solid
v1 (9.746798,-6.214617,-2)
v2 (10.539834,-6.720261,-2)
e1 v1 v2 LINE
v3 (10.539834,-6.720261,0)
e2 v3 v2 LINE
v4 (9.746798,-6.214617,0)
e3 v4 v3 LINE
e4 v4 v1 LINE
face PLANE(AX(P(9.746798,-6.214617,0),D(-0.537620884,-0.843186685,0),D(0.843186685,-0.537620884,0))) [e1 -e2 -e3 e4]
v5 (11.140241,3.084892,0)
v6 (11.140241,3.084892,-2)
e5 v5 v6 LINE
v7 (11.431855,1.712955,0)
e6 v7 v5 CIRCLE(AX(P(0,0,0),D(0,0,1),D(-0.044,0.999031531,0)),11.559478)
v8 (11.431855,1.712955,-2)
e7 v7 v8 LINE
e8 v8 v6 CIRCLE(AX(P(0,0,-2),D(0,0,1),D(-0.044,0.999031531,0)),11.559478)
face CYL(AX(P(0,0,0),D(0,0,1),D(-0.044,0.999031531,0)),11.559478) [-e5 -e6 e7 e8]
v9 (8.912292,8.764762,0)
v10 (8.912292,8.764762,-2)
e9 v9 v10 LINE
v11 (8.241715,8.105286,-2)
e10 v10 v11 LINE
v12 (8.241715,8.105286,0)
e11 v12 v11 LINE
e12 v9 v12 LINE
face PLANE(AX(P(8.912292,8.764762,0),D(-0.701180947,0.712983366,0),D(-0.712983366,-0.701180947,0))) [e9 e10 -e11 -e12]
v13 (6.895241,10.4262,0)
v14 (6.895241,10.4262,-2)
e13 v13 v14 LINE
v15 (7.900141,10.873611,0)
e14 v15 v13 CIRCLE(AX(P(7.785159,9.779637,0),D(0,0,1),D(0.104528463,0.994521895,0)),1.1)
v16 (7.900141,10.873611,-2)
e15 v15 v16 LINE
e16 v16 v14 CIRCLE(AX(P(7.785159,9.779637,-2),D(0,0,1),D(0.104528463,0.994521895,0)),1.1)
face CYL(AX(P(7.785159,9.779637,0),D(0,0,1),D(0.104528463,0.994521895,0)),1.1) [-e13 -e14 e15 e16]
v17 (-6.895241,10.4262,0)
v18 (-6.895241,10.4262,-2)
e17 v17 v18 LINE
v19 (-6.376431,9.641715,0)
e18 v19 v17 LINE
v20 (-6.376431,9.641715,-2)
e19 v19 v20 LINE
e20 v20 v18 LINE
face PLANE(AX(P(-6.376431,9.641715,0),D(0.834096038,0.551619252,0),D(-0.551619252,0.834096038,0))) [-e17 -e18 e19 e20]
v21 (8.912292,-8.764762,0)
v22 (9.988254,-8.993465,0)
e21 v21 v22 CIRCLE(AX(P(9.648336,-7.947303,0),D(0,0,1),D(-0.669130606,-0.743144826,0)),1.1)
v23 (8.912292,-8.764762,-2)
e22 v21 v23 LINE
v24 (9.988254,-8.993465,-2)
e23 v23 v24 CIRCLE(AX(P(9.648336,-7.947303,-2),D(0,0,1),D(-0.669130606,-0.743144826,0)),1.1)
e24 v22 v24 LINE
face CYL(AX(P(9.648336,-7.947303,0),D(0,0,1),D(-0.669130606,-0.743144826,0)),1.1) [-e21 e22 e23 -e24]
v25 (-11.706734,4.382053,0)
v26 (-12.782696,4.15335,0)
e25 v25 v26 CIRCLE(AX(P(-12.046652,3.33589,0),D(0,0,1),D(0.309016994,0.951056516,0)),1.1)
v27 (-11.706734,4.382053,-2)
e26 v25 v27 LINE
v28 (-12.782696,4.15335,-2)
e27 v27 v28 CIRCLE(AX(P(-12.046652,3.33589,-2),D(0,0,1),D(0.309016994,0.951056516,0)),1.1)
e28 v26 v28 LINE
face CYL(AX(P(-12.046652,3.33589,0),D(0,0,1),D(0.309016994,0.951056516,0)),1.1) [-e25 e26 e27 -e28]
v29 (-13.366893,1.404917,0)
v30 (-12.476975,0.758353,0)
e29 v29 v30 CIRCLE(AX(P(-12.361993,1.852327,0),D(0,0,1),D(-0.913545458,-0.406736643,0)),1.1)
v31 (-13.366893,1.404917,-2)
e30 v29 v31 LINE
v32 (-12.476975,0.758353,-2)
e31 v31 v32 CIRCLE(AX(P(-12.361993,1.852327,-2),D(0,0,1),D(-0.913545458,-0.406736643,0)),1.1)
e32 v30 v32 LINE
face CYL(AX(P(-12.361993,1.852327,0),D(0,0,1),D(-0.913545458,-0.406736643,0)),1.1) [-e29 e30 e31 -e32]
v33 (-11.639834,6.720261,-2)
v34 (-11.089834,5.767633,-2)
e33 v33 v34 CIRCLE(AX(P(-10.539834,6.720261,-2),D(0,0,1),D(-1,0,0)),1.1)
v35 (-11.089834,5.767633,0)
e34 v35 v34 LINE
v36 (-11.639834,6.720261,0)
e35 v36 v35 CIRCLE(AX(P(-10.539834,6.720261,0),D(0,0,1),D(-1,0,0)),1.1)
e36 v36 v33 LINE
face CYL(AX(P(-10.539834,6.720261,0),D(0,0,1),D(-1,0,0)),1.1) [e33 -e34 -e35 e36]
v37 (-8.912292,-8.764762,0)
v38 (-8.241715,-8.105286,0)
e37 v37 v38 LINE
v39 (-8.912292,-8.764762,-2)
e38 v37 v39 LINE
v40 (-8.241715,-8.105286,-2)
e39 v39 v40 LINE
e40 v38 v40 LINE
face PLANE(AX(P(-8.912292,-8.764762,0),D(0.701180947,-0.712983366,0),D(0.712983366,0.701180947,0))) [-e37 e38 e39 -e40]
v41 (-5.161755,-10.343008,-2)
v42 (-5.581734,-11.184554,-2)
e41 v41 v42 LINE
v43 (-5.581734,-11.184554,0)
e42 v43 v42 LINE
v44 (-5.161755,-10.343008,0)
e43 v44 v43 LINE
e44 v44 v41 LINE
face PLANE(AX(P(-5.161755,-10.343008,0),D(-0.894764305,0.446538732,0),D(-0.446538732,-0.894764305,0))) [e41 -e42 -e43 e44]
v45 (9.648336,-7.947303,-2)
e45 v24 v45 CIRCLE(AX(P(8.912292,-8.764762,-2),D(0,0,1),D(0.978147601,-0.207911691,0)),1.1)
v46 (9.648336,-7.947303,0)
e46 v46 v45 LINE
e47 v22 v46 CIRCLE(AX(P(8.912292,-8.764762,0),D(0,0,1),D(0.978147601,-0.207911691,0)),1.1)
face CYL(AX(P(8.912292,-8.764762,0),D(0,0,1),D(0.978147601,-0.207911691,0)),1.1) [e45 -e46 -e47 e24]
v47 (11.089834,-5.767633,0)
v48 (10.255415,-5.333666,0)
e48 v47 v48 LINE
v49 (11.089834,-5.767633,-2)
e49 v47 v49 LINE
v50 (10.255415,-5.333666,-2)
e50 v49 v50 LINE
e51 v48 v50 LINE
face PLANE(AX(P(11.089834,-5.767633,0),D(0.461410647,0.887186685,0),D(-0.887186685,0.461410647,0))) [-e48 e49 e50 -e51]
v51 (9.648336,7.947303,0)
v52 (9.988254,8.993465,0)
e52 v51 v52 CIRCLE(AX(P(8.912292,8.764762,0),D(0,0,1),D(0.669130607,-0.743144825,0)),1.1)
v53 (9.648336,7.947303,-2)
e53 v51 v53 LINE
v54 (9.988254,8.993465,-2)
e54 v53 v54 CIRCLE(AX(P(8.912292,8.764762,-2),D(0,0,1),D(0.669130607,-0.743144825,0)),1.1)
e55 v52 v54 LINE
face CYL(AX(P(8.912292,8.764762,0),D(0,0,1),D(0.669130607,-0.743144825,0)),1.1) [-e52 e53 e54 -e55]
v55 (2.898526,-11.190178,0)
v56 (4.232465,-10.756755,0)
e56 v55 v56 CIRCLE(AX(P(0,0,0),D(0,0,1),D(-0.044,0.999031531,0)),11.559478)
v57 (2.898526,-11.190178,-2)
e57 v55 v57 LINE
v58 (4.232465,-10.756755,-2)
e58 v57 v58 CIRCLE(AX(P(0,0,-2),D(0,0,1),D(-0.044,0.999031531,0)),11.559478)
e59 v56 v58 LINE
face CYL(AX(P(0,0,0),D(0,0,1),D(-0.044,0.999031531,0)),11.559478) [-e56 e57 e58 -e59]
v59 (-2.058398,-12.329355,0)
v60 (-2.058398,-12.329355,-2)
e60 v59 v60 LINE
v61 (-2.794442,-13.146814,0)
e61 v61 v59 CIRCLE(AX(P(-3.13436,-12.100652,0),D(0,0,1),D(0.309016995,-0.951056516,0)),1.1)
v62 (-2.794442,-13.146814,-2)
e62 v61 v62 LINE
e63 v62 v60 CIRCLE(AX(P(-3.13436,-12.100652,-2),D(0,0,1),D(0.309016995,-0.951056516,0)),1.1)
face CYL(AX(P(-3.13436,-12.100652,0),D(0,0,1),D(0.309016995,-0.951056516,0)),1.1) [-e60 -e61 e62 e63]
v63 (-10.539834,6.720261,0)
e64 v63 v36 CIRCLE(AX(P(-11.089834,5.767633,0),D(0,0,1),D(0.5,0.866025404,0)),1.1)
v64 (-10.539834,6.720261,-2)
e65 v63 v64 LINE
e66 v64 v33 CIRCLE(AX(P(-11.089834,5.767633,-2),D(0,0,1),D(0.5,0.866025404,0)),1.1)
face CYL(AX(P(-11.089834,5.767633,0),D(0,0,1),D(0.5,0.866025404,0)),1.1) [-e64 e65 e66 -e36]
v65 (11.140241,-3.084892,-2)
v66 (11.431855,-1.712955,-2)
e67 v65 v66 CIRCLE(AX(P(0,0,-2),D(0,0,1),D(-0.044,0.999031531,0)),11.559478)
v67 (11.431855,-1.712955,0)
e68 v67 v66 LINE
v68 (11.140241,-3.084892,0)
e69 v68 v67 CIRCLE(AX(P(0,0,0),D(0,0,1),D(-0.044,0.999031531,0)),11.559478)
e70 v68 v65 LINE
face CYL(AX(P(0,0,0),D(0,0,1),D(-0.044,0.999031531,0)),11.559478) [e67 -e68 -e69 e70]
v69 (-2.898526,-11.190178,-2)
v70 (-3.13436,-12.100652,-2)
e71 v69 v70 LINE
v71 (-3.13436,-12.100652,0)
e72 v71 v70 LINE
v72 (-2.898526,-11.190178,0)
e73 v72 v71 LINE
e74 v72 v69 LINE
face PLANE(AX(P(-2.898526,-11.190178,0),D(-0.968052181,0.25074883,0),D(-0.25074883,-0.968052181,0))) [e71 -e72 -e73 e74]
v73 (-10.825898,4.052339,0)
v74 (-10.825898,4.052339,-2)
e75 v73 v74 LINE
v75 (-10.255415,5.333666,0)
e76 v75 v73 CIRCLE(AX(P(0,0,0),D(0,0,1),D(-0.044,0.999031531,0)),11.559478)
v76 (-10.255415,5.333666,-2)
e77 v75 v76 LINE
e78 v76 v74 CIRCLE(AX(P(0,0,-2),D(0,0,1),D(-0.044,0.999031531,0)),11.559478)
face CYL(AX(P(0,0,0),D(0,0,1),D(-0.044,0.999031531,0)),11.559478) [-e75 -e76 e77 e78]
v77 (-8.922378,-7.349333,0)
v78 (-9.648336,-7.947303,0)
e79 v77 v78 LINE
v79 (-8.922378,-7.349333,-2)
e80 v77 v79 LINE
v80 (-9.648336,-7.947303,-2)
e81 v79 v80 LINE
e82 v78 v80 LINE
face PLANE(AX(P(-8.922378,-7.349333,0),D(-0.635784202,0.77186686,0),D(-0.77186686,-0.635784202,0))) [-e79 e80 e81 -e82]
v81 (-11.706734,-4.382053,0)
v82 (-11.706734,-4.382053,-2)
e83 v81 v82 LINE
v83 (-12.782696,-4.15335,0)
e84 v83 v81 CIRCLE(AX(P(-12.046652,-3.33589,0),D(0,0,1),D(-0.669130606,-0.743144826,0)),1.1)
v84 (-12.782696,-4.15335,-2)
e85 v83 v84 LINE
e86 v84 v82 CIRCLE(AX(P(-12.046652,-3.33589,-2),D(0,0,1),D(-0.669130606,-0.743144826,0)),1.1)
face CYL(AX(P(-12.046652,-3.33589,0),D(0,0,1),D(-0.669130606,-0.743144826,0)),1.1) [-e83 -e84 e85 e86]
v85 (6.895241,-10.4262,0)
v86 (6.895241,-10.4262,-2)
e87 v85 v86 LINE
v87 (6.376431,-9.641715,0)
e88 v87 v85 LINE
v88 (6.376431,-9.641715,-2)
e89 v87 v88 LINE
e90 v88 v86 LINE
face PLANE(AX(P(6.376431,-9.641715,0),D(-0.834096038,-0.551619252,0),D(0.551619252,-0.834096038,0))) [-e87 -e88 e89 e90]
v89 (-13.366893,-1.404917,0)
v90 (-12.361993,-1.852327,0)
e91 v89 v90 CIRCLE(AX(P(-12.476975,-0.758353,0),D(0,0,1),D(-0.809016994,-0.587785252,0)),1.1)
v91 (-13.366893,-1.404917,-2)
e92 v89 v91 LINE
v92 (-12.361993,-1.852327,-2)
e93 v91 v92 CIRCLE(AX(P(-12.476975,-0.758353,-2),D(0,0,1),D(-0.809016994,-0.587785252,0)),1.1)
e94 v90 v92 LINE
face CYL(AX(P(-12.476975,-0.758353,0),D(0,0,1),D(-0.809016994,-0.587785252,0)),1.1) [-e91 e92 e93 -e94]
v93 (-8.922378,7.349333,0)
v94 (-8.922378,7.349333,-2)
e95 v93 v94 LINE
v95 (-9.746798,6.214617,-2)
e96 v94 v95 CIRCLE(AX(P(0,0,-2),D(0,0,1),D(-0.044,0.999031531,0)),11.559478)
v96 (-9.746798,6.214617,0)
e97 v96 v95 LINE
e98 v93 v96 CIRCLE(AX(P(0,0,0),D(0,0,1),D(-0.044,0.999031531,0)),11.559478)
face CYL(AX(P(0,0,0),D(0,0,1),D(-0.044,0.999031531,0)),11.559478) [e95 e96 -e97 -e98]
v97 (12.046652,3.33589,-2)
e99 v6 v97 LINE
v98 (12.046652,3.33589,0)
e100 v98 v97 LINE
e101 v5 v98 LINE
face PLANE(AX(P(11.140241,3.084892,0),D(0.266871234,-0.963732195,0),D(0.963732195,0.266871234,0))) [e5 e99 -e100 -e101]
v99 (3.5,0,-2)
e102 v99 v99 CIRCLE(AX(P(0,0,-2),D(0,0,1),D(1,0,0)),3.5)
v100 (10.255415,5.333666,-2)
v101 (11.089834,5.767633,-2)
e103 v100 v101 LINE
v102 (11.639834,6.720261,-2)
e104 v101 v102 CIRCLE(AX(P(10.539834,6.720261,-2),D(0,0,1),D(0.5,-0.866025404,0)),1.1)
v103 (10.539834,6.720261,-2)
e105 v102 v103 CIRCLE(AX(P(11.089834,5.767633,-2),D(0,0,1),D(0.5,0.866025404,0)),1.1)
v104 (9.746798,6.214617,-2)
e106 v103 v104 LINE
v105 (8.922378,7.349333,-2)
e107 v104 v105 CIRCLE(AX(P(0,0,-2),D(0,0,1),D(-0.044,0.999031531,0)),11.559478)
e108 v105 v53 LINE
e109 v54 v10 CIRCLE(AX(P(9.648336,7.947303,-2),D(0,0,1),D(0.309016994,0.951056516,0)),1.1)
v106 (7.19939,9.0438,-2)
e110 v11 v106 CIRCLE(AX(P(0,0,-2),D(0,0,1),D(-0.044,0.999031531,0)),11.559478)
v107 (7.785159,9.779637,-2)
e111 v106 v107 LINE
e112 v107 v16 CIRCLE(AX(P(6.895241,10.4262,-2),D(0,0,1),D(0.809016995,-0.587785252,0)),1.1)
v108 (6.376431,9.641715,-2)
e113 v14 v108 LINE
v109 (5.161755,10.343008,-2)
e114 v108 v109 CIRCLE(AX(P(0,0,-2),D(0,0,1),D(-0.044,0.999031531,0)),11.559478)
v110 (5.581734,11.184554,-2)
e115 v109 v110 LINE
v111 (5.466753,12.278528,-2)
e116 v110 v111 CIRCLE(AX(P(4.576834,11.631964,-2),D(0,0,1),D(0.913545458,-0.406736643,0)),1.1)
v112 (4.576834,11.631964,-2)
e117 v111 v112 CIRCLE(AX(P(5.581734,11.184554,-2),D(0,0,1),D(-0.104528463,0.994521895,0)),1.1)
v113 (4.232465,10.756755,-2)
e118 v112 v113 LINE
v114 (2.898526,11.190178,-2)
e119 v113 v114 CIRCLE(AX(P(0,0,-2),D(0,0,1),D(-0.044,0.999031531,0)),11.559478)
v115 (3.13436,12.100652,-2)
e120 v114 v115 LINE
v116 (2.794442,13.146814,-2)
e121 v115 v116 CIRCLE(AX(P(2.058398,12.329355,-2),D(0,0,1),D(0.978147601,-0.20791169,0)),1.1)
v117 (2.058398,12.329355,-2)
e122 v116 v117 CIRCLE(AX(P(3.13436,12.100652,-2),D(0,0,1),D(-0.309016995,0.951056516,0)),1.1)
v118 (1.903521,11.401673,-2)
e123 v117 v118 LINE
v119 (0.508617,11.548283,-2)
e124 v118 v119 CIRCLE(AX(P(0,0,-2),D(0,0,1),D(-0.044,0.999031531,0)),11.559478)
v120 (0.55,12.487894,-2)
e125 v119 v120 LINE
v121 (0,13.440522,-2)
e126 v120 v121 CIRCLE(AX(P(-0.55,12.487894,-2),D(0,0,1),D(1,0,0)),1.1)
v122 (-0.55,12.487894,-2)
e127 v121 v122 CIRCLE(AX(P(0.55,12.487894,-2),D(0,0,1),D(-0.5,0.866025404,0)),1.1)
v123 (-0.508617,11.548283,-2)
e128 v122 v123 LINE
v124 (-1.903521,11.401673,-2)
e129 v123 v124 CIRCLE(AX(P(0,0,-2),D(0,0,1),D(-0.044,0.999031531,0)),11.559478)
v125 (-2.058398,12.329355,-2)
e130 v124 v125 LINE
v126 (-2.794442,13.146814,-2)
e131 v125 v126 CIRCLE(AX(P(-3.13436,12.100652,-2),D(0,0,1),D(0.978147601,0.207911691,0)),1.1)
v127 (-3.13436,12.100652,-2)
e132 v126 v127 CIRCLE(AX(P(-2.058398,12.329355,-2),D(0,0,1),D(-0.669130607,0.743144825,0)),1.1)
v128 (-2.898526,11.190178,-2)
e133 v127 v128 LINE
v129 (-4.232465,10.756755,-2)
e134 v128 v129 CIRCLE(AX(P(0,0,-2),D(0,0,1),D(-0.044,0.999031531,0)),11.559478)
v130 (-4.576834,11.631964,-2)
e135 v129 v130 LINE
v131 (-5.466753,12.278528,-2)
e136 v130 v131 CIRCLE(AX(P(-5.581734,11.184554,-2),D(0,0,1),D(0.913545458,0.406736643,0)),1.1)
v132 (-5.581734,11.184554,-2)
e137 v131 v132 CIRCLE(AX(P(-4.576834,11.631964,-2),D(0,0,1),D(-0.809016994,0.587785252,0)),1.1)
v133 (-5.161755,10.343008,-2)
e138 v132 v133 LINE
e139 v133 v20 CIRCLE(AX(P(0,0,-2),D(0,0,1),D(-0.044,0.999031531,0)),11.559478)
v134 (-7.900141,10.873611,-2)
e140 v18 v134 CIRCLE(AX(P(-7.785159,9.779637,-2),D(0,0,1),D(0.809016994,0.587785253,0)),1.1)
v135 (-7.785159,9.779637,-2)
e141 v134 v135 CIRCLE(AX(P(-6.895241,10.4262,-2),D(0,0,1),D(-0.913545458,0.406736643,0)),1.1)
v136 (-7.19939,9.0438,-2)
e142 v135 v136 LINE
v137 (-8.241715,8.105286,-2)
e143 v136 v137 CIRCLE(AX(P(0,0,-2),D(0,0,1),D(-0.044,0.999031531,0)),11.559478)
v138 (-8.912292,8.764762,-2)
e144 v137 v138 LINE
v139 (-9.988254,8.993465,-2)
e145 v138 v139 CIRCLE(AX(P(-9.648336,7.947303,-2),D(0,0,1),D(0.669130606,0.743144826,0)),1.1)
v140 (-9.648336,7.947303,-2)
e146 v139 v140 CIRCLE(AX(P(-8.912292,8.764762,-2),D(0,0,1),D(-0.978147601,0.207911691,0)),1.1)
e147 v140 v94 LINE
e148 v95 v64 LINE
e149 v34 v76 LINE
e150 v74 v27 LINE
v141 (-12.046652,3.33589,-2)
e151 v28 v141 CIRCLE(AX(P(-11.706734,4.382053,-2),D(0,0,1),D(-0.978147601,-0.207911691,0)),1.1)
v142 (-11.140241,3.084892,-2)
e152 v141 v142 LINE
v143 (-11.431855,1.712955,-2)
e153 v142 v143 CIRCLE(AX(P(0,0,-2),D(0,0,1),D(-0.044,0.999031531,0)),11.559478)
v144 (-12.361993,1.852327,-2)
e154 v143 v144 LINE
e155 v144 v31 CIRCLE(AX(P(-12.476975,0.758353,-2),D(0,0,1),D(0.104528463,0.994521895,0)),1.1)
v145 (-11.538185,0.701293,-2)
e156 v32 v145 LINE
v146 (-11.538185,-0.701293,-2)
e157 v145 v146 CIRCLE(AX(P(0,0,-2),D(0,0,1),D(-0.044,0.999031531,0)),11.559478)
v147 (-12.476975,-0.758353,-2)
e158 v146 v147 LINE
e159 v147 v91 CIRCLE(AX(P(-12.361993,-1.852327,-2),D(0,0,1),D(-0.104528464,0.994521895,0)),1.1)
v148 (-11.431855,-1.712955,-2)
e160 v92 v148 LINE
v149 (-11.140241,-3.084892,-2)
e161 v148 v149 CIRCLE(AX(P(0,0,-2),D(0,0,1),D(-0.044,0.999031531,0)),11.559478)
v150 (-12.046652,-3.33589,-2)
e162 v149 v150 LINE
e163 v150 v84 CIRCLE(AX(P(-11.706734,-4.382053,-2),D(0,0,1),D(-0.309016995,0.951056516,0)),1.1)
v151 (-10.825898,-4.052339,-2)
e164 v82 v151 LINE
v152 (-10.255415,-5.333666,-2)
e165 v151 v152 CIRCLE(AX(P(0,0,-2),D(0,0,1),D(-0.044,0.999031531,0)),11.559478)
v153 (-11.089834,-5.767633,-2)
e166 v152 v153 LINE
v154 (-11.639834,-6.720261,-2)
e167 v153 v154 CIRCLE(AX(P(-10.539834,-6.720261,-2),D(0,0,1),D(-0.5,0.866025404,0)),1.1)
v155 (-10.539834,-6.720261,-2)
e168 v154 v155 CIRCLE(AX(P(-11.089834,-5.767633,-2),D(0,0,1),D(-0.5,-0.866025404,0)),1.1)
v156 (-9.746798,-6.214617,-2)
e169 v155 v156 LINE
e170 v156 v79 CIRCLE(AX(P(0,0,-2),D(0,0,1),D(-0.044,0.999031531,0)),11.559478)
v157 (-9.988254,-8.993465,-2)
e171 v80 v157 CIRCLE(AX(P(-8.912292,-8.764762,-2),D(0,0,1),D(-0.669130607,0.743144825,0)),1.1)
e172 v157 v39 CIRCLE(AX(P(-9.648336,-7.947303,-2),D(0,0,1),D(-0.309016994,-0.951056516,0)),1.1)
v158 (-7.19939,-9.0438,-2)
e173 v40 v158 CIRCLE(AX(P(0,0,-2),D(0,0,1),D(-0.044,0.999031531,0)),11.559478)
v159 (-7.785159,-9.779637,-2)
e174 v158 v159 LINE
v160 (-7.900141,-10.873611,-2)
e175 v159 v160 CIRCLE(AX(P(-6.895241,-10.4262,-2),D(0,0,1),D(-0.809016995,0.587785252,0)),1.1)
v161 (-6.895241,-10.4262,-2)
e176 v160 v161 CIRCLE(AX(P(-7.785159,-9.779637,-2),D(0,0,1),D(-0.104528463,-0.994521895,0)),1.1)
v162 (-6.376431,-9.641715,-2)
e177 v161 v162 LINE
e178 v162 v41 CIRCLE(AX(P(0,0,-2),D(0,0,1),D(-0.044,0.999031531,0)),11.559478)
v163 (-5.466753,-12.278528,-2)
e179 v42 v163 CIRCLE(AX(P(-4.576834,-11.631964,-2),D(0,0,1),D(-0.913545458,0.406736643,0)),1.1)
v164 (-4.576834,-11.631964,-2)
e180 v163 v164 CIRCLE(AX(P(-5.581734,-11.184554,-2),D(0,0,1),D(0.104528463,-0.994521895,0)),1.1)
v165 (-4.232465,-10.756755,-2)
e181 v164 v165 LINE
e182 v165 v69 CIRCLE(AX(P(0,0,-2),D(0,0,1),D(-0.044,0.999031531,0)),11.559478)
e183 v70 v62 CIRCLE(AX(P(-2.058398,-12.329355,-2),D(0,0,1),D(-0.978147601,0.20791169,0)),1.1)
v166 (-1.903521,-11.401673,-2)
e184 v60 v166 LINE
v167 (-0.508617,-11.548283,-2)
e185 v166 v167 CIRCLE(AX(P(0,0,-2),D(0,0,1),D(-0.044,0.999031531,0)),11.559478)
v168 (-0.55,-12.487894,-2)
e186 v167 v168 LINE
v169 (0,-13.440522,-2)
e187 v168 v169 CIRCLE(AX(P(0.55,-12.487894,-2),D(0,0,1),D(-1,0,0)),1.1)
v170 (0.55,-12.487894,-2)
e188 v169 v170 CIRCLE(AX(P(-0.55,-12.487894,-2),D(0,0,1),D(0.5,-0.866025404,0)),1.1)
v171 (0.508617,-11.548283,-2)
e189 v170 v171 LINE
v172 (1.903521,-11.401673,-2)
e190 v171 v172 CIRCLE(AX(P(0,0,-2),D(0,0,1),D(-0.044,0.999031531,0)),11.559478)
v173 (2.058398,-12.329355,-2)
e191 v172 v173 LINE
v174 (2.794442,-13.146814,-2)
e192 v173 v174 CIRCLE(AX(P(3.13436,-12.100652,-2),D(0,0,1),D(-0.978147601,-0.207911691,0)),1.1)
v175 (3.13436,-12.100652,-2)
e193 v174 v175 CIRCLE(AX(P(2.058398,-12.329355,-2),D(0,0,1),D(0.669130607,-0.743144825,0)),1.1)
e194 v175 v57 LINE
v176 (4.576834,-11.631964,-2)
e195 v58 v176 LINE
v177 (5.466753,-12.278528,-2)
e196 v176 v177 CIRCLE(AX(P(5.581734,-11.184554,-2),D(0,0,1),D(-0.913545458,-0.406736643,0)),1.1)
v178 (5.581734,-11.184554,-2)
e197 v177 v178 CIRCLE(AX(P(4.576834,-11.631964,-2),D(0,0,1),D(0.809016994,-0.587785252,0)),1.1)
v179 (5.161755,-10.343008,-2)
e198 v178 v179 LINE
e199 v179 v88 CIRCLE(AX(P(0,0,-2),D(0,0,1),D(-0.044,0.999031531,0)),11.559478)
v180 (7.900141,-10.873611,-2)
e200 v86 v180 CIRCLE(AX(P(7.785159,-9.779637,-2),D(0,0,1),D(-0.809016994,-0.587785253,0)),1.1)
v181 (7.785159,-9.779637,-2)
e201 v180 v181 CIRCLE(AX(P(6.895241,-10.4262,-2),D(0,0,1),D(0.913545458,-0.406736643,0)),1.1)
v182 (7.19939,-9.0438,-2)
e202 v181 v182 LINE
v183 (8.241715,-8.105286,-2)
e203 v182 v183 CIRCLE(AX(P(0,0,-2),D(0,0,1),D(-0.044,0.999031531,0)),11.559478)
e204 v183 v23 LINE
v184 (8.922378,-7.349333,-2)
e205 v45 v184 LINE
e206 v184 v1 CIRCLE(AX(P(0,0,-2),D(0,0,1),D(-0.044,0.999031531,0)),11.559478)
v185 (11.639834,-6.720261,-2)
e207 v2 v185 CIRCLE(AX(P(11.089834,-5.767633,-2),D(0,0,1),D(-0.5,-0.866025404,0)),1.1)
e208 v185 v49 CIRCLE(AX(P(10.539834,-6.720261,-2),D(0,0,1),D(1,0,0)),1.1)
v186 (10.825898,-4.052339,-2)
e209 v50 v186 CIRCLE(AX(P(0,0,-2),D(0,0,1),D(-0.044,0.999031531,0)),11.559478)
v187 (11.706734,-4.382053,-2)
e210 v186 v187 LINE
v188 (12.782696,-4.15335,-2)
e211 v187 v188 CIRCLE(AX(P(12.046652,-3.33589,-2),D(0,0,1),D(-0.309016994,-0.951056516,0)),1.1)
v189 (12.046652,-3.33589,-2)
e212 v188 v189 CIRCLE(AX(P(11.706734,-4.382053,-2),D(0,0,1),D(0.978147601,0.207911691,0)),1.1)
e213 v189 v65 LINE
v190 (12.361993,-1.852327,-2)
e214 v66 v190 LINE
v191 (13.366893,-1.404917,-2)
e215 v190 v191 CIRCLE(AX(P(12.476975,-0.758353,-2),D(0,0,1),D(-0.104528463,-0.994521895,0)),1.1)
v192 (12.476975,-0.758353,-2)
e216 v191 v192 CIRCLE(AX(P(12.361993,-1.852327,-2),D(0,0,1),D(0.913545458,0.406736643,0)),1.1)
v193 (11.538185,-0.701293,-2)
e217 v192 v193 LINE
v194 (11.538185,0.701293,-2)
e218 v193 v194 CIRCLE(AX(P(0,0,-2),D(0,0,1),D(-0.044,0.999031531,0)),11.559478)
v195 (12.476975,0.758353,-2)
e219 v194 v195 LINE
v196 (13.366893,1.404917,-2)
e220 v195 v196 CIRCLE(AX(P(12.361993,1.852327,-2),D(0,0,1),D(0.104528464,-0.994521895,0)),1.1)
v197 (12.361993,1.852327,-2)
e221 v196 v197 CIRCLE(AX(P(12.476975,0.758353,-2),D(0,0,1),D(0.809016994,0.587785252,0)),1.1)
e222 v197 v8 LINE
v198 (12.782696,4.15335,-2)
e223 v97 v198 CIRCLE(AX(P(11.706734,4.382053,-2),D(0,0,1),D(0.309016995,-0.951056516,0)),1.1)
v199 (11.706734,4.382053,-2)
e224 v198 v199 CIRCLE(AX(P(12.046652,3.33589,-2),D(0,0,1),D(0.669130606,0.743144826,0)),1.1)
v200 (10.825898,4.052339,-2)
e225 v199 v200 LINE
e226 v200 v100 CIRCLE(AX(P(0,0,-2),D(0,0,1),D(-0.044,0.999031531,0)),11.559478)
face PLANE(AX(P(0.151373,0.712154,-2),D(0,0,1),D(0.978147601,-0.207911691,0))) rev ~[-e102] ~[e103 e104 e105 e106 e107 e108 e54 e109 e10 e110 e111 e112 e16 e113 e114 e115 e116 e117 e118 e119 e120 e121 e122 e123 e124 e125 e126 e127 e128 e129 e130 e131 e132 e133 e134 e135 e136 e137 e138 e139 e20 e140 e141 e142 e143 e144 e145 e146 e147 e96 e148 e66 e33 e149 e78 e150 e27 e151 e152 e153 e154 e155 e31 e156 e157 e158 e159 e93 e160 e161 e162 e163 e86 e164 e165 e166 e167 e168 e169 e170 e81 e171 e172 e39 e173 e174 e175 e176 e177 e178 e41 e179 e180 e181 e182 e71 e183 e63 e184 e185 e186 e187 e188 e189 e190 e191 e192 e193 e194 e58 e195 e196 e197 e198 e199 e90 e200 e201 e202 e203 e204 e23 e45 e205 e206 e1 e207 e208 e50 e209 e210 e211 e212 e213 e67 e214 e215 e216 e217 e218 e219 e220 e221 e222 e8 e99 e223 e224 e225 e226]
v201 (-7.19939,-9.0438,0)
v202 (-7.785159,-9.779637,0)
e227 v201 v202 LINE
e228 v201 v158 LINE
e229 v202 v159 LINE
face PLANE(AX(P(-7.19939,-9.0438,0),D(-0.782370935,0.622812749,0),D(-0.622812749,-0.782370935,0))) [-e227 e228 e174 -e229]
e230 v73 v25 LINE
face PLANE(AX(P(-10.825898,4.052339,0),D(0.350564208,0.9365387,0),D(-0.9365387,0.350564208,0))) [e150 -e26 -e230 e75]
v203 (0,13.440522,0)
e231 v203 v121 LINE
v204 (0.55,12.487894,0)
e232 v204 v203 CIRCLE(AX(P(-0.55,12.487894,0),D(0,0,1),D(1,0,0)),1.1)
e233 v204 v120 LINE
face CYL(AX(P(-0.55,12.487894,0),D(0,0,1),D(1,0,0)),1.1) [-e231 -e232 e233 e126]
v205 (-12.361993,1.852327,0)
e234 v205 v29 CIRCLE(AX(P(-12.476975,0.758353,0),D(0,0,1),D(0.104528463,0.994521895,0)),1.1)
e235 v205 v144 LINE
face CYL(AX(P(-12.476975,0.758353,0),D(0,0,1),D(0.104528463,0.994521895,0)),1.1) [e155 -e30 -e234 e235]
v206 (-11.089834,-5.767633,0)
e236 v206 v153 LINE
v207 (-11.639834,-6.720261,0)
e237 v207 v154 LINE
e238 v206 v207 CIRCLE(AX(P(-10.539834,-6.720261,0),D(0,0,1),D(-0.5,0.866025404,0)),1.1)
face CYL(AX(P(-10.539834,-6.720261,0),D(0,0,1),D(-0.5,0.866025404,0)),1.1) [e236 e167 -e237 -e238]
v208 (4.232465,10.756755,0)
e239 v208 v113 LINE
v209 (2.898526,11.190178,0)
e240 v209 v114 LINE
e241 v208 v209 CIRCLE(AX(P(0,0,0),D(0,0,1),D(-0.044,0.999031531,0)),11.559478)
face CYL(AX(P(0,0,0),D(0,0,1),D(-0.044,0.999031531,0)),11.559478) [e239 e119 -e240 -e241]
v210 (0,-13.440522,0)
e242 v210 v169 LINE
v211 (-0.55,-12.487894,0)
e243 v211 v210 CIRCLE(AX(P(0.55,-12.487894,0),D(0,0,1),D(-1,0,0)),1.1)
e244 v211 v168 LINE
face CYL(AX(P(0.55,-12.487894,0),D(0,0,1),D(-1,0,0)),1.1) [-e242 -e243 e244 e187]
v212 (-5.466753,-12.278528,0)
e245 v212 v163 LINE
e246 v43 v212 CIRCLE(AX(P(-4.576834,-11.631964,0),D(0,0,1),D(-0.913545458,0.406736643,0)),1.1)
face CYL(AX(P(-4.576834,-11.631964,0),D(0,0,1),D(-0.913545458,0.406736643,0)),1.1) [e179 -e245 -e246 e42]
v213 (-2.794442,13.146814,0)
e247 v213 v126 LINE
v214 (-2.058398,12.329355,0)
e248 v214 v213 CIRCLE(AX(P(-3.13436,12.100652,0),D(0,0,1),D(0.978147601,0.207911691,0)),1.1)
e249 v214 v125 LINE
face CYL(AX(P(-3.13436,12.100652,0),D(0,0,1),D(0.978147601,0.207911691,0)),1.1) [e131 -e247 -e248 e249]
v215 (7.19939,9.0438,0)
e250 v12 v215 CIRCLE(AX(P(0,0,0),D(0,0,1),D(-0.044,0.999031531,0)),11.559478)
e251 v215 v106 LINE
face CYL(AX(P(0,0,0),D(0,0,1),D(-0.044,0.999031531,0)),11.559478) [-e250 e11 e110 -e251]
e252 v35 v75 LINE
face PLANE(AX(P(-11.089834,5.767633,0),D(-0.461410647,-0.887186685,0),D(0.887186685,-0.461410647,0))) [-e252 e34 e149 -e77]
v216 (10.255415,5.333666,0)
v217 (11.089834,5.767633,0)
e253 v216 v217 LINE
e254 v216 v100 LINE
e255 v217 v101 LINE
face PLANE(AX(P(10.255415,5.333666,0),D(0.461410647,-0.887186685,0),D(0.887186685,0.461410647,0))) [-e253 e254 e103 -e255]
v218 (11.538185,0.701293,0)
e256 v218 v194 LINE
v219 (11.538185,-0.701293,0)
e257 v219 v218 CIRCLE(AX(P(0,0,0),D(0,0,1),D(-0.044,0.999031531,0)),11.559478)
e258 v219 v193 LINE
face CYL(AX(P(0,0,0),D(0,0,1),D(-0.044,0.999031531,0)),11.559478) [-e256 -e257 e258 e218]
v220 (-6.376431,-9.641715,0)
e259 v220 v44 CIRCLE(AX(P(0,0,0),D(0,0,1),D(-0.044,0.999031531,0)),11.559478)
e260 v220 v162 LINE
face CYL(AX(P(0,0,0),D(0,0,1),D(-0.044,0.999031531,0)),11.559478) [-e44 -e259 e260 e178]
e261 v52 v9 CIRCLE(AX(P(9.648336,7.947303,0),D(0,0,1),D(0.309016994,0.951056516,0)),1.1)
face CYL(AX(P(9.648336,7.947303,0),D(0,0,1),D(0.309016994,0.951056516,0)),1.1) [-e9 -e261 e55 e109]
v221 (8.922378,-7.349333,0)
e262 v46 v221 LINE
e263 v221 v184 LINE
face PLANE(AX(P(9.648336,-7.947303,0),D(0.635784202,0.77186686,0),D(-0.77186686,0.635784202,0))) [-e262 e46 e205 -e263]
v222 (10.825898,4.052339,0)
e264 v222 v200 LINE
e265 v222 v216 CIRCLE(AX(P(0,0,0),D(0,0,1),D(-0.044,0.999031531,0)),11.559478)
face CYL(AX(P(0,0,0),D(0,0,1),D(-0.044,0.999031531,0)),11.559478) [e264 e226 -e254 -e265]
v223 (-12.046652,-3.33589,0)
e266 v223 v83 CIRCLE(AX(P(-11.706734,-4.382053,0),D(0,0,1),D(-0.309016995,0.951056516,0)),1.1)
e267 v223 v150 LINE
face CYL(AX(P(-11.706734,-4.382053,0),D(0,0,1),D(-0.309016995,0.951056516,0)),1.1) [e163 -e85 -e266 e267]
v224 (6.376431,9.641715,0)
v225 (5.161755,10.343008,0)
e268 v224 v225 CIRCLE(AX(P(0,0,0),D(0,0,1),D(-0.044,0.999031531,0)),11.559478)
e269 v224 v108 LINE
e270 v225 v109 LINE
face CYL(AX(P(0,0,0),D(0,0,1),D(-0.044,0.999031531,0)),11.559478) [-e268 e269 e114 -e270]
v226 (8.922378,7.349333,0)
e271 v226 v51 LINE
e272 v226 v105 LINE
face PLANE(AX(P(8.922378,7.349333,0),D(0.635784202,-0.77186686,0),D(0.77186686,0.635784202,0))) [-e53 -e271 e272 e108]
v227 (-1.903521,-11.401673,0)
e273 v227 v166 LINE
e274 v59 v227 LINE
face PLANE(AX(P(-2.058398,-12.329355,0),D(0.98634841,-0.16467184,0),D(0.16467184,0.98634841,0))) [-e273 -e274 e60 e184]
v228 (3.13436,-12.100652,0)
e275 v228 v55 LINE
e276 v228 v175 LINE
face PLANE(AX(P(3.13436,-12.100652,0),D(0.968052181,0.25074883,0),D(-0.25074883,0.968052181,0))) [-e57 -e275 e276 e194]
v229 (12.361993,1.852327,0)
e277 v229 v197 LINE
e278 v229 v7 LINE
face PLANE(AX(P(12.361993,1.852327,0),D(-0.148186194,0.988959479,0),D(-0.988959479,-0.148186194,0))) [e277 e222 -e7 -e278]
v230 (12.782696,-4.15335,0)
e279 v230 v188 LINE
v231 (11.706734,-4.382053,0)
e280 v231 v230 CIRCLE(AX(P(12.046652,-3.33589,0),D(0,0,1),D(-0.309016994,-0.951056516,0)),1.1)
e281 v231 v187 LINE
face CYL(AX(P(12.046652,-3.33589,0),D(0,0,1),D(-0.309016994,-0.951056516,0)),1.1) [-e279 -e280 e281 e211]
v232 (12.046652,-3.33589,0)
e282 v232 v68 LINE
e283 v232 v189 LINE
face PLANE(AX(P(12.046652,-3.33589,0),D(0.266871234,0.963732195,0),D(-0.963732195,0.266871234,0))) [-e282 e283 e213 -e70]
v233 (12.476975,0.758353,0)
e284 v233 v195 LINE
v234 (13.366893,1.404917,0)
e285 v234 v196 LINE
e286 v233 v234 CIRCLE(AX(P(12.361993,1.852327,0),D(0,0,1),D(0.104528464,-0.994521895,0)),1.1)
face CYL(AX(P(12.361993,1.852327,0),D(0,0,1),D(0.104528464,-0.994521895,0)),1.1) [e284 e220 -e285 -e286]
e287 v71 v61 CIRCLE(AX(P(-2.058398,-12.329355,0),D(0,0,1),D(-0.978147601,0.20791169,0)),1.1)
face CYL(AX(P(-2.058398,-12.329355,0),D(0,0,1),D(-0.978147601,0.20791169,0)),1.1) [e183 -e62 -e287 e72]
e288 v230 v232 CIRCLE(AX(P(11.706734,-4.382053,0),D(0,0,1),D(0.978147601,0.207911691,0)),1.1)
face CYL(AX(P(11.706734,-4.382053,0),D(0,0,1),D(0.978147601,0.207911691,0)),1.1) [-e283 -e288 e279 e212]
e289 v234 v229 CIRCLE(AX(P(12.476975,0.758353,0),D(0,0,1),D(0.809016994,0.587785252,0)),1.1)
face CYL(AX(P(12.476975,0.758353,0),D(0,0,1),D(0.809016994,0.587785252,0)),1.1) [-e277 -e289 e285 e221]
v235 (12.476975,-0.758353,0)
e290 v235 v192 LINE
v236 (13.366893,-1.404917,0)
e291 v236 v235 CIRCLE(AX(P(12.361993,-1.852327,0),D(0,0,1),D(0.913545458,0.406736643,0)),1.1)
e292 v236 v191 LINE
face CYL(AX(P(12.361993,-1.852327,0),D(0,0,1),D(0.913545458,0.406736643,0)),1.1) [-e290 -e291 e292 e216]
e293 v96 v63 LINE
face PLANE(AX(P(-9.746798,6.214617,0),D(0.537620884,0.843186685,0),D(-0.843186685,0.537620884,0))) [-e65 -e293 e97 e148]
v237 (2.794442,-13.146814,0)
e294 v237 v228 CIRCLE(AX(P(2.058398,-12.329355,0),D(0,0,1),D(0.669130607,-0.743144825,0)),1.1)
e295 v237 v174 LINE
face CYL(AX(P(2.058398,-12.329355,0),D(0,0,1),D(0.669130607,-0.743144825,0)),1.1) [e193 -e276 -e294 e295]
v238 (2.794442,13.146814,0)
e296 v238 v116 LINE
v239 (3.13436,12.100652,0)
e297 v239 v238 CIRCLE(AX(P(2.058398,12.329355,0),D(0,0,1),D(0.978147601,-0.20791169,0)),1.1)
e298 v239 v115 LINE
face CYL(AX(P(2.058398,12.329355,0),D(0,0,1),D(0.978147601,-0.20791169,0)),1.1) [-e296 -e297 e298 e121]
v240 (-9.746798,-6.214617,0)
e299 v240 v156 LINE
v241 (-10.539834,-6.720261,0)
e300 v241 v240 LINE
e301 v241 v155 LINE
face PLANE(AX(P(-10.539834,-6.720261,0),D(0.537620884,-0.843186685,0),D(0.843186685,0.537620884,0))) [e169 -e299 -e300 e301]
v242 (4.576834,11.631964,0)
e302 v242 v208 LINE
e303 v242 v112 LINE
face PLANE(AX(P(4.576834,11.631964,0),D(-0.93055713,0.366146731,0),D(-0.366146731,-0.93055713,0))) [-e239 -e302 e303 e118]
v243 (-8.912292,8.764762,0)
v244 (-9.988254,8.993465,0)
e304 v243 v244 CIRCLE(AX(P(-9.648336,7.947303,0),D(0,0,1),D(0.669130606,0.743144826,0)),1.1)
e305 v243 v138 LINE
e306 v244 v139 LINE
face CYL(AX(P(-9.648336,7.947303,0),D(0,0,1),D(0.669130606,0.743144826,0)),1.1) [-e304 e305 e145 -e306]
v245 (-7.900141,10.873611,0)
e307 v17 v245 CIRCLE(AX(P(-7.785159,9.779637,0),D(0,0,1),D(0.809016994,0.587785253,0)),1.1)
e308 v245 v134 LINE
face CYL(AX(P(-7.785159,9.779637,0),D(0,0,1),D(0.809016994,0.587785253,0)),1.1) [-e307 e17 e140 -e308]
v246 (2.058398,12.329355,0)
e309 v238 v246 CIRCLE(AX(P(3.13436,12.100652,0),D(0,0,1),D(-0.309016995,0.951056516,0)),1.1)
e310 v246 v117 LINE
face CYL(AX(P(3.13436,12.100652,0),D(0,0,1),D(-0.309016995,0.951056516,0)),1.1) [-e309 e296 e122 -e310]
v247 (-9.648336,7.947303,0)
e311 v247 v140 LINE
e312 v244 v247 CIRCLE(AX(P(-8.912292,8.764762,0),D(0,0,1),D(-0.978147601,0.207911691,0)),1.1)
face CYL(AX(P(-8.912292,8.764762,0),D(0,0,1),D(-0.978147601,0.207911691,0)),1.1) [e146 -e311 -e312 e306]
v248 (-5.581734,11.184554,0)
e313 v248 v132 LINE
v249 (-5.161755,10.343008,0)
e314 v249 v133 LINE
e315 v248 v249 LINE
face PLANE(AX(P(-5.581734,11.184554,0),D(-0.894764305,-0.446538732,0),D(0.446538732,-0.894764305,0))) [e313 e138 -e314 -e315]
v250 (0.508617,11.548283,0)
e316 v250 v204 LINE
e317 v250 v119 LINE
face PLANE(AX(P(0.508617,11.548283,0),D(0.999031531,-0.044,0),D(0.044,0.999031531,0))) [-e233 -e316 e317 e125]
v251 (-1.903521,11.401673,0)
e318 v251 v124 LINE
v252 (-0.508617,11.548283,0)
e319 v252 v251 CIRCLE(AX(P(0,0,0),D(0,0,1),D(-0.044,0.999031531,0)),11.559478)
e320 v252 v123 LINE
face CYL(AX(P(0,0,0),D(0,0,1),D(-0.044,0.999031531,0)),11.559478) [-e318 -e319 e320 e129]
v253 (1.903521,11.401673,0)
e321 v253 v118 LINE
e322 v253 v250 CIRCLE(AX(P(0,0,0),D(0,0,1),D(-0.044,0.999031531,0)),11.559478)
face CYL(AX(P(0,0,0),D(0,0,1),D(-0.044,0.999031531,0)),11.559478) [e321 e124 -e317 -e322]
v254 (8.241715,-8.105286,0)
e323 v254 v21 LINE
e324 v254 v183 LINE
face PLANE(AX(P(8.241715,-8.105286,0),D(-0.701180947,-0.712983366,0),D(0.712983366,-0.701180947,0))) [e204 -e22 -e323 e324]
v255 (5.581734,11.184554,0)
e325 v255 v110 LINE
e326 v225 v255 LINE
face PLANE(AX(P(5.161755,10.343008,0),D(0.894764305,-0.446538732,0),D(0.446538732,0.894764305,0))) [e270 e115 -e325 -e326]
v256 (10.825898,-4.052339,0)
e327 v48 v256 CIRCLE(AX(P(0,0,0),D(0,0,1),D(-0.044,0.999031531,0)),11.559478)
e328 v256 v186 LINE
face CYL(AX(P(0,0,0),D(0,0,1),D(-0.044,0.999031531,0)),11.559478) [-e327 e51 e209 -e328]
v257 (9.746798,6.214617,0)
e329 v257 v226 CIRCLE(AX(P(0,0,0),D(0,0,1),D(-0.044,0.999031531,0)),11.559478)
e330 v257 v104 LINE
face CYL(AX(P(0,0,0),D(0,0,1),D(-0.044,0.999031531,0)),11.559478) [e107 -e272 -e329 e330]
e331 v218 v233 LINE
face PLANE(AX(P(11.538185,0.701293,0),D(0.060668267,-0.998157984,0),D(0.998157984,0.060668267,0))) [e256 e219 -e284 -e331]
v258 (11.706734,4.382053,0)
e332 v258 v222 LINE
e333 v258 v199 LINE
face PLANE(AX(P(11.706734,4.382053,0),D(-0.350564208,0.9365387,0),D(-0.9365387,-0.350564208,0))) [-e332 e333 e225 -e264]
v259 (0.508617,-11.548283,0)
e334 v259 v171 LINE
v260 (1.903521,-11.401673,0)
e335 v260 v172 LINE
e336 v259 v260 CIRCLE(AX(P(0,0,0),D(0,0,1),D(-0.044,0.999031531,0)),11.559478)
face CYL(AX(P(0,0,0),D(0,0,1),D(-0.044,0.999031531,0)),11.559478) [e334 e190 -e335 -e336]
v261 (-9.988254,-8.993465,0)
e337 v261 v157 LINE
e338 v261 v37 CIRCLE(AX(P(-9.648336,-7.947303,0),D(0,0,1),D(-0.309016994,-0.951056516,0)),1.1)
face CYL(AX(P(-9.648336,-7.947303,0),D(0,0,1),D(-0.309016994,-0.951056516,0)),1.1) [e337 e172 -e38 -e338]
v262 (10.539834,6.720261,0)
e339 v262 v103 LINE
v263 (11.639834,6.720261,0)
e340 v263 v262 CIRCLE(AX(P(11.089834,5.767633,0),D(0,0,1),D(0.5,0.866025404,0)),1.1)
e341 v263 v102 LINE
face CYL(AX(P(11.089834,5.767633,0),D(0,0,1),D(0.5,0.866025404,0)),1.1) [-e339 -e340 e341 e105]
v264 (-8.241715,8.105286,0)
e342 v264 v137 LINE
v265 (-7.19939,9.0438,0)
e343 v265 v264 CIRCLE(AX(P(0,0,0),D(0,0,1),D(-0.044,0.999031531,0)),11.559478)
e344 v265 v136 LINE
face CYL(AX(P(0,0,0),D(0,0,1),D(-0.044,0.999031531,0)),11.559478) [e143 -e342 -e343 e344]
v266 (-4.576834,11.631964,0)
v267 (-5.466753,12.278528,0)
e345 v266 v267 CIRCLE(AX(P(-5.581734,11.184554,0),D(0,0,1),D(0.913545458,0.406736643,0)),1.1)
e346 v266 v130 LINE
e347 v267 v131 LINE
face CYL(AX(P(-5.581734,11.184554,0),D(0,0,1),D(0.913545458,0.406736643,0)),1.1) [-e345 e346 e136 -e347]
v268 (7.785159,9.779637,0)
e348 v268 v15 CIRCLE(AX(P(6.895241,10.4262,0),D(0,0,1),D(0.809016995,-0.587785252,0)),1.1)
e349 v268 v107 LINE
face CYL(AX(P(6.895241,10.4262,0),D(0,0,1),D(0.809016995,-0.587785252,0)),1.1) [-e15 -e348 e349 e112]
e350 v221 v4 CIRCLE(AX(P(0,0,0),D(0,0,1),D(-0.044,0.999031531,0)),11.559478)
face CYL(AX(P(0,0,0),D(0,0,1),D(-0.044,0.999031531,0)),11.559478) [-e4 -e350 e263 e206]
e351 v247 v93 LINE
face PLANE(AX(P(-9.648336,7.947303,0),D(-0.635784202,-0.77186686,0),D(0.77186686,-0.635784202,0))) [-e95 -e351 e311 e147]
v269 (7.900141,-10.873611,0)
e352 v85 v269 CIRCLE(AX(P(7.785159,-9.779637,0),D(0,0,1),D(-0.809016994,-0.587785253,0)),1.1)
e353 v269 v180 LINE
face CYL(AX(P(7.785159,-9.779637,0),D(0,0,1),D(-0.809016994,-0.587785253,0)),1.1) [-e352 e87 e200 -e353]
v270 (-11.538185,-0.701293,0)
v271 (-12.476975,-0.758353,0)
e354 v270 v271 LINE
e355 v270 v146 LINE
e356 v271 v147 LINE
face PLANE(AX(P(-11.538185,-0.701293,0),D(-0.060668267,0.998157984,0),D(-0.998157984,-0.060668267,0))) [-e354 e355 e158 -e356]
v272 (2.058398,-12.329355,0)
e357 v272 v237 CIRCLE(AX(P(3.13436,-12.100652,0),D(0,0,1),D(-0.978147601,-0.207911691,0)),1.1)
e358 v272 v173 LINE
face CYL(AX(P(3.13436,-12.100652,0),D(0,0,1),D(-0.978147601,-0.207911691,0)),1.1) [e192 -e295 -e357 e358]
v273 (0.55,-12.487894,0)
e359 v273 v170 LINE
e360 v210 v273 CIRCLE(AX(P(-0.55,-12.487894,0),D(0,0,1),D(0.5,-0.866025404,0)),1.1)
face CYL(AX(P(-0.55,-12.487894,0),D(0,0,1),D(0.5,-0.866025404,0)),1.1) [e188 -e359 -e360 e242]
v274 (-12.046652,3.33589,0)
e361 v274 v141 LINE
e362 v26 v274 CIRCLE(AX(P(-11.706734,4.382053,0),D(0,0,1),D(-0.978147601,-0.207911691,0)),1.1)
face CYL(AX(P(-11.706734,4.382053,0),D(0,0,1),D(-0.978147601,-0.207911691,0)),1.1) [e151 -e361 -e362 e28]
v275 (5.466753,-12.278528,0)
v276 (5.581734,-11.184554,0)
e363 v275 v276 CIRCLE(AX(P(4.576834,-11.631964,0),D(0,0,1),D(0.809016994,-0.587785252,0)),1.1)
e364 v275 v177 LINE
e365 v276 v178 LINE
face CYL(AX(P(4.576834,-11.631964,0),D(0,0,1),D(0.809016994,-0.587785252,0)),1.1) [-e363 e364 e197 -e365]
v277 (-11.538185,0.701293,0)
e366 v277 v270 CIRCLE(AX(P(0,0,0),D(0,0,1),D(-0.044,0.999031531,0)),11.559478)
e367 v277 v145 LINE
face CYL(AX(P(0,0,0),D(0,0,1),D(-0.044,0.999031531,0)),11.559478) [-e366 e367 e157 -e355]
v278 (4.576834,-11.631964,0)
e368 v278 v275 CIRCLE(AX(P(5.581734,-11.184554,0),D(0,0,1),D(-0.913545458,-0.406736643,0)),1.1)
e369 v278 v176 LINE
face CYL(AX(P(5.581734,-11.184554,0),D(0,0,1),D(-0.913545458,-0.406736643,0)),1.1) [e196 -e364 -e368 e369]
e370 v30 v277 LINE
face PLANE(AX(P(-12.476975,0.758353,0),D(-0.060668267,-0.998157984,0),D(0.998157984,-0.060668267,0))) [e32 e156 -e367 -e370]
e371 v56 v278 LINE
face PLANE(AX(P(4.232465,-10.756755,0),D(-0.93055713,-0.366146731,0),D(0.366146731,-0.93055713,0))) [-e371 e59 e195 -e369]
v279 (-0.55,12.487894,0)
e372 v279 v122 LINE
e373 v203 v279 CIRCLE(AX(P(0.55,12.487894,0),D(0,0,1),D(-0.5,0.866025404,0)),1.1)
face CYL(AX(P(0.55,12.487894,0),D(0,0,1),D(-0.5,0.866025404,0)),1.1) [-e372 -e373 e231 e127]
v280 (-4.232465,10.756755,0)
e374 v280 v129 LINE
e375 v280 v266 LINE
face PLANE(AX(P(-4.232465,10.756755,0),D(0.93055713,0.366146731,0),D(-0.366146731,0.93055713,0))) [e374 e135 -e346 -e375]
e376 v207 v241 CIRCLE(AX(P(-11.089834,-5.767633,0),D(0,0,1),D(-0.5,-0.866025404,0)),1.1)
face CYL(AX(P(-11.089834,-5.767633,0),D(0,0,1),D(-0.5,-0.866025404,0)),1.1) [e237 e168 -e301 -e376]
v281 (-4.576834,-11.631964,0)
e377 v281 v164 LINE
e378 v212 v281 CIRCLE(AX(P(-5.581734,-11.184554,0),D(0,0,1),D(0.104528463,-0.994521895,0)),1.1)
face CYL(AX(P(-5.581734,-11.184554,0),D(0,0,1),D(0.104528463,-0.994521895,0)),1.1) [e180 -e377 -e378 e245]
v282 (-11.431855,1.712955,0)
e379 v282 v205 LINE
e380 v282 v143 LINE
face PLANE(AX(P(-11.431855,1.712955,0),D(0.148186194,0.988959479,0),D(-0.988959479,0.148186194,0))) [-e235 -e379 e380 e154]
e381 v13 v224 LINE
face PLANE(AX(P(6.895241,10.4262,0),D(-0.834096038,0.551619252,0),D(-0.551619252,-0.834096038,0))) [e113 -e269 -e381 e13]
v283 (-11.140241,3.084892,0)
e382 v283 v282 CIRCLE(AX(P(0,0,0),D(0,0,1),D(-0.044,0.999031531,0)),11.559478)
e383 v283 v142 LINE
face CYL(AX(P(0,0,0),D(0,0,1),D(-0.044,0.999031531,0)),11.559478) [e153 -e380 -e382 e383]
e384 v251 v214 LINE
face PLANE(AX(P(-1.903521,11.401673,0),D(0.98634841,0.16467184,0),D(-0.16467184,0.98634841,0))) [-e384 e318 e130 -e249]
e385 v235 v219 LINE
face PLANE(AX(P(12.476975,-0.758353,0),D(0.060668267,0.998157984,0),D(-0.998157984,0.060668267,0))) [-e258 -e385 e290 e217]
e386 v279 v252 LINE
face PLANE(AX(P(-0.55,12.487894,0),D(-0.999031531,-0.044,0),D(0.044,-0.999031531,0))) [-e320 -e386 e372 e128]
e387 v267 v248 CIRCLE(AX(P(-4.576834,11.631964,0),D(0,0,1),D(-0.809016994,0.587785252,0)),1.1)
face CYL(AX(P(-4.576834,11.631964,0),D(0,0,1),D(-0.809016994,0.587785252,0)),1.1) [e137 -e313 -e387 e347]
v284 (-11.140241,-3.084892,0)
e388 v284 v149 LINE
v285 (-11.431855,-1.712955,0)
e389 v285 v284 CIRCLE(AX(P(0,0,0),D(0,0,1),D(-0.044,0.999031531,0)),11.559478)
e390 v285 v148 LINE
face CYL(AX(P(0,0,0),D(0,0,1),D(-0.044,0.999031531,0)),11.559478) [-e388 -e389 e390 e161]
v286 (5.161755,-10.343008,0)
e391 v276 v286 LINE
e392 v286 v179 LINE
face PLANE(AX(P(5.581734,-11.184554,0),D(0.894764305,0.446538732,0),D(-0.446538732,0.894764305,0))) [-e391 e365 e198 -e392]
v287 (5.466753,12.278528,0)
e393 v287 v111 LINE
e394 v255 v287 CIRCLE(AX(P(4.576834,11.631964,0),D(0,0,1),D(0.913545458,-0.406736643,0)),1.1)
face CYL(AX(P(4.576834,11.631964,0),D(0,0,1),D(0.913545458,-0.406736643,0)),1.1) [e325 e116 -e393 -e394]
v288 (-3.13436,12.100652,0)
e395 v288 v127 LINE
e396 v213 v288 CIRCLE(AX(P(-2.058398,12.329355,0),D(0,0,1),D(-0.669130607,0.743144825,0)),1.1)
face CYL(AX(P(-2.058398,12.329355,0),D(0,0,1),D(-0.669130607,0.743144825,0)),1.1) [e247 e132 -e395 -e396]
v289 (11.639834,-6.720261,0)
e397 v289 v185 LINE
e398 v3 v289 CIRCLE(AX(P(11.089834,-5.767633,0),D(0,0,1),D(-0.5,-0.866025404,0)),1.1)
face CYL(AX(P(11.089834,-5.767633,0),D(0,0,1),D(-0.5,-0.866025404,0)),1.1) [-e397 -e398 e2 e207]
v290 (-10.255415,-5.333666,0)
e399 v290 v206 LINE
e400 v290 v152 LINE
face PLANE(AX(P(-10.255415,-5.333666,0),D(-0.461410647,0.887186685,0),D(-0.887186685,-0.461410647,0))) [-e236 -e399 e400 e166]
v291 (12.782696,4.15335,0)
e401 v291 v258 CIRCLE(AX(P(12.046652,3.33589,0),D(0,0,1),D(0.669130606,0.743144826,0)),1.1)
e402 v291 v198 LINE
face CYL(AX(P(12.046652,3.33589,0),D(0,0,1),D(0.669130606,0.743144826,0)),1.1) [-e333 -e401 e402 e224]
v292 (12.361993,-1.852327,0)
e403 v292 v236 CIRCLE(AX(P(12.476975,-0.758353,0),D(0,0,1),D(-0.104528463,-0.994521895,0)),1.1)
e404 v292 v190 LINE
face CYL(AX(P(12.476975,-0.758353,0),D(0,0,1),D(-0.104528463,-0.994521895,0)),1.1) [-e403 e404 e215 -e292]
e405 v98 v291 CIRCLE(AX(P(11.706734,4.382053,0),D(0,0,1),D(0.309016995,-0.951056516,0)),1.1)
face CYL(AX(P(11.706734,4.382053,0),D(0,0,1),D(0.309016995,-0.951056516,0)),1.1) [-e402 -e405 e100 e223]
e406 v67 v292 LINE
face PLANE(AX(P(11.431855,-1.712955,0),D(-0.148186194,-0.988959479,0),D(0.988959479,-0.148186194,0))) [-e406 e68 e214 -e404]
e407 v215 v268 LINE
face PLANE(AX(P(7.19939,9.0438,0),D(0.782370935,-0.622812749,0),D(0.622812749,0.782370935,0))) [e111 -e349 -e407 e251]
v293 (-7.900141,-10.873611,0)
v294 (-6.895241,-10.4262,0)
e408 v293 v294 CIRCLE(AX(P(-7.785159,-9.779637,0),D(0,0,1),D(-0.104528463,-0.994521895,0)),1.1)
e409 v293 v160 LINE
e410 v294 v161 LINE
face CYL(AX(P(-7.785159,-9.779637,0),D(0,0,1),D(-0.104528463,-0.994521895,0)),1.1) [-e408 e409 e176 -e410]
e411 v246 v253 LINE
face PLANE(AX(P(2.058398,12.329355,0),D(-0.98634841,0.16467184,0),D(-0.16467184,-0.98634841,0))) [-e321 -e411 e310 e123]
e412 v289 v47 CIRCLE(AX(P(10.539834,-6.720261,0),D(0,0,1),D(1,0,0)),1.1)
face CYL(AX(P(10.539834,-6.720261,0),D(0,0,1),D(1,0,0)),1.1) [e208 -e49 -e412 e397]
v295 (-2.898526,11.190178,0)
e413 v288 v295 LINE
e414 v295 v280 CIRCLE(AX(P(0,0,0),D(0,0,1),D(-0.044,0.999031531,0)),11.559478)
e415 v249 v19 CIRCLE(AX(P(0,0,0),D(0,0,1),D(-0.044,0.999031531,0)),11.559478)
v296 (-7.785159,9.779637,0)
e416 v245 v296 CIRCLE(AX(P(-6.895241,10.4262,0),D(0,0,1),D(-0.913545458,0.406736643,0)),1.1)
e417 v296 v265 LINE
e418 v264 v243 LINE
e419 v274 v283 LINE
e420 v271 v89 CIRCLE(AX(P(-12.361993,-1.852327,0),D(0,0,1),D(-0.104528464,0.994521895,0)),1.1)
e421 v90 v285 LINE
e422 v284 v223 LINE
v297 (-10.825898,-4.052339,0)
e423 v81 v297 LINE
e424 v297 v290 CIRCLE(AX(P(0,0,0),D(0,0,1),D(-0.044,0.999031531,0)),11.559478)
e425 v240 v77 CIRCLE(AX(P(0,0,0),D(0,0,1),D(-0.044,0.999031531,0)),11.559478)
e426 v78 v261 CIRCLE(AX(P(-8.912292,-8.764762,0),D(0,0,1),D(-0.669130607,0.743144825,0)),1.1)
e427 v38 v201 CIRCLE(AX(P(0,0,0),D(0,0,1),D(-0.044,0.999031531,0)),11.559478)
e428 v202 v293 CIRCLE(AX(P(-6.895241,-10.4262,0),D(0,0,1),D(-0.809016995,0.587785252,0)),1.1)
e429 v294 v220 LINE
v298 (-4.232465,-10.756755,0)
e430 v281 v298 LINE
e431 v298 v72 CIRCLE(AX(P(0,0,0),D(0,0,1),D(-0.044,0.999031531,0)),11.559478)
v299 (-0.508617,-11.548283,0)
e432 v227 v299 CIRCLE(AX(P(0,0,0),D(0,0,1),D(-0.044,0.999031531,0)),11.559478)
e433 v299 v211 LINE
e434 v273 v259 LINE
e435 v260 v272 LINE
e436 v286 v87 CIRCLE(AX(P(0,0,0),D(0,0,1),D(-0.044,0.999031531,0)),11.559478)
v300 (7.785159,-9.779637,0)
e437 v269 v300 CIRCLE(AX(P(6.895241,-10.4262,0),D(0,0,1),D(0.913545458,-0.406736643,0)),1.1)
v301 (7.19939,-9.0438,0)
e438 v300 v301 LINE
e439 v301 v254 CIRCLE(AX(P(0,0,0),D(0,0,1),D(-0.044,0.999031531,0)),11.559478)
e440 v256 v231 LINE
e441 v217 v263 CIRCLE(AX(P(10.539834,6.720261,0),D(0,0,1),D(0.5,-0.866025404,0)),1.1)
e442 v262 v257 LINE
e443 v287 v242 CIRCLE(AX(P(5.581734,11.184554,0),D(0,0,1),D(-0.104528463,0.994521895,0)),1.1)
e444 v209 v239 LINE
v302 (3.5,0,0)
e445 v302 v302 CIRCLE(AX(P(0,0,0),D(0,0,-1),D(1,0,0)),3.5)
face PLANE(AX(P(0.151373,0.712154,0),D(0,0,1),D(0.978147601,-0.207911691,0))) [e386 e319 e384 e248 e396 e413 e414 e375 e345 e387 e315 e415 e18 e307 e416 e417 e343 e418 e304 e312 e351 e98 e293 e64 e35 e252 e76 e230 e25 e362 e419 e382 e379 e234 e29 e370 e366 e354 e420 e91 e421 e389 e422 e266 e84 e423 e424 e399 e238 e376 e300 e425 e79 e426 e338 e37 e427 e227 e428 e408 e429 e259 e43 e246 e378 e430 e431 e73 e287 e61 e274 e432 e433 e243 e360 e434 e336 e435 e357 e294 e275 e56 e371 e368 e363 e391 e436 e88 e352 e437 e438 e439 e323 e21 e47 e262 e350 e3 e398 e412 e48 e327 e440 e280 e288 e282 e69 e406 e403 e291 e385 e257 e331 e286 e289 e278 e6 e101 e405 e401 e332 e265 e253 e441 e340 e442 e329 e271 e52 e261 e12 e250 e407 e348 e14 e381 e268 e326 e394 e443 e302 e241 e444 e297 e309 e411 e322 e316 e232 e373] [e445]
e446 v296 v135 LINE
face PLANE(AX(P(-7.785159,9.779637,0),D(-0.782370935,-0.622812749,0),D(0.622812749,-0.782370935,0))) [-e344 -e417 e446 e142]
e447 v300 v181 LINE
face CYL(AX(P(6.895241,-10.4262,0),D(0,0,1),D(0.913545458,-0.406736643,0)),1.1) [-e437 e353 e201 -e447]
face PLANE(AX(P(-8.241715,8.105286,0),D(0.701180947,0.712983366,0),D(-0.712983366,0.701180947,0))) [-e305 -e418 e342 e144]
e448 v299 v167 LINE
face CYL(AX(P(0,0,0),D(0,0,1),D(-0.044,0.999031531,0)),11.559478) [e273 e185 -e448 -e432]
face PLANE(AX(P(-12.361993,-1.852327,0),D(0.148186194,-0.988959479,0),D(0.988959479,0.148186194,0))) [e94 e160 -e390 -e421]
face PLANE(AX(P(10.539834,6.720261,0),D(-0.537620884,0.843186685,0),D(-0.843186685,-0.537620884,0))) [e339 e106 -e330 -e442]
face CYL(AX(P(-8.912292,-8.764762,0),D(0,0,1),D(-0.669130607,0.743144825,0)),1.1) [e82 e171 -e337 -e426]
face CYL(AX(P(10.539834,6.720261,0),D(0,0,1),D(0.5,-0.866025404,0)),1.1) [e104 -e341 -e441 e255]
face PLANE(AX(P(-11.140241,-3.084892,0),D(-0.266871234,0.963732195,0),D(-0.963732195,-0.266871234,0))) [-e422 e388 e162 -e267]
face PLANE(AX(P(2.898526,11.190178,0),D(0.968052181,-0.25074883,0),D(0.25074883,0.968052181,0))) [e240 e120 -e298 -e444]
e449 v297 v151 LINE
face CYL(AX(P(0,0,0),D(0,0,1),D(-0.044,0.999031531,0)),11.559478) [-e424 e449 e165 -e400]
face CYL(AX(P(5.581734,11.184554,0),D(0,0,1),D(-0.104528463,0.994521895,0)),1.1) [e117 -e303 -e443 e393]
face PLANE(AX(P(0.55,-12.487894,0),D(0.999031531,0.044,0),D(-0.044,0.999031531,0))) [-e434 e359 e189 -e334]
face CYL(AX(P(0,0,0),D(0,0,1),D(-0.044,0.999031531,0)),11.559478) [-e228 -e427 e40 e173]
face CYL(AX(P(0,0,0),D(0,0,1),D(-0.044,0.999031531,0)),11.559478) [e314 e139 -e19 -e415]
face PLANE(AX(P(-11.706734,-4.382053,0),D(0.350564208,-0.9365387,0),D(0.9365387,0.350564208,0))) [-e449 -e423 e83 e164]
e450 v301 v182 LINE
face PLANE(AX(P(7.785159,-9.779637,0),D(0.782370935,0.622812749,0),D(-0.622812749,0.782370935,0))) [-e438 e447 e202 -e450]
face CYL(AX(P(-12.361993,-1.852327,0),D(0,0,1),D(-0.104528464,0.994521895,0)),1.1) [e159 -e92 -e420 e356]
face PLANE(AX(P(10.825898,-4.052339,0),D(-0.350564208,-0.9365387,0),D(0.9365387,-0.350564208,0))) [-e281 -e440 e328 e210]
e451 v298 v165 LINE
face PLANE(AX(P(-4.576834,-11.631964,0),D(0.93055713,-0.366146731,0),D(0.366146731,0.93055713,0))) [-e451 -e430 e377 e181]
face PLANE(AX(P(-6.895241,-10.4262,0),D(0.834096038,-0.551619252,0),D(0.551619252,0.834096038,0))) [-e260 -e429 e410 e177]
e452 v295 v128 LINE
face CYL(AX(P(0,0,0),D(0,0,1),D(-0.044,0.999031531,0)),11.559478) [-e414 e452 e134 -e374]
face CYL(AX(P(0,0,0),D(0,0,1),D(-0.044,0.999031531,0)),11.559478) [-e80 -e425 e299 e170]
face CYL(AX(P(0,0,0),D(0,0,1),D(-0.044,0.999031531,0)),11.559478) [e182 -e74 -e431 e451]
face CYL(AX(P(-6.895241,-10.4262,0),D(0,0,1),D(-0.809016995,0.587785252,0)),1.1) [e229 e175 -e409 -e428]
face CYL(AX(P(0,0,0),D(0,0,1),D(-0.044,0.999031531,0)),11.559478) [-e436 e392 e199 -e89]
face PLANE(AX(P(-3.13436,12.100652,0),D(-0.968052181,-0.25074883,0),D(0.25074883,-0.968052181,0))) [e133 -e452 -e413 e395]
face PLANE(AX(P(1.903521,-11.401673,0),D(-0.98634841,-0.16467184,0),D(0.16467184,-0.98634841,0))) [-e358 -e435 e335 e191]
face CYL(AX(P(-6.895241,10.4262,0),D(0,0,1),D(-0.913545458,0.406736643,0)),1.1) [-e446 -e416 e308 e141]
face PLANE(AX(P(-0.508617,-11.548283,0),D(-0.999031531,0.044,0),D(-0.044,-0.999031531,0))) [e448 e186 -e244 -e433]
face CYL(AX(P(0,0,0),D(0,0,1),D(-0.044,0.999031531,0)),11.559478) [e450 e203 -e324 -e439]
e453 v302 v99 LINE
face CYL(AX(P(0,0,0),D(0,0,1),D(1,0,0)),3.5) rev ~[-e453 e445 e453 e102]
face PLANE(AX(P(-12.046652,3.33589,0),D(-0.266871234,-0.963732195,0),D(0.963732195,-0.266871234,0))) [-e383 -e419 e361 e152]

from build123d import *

# Parameters (mm, degrees)
SKETCH1_R           = 3.5
BOSS_EXTRUDE1_DEPTH = 2
CIRPATTERN1_COUNT   = 30


with BuildPart() as part:
    # Sketch1 → Boss-Extrude1 (new body)
    with BuildSketch(Plane.XY):
        with BuildLine():
            Line((-0.55, 12.487894138), (-0.508617028, 11.548282922))
            ThreePointArc((-0.508617028, 11.548282922), (0, -11.559477918), (0.508617028, 11.548282922))
            Line((0.508617028, 11.548282922), (0.55, 12.487894138))
            ThreePointArc((0.55, 12.487894138), (0.402627944, 13.037894138), (0, 13.440522082))
            ThreePointArc((0, 13.440522082), (-0.402627944, 13.037894138), (-0.55, 12.487894138))
        make_face()
        Circle(SKETCH1_R, mode=Mode.SUBTRACT)
    boss_extrude1 = extrude(amount=-BOSS_EXTRUDE1_DEPTH)

    # CirPattern1: Boss-Extrude1 ×30 about axis
    cirpattern1_axis = Axis((0, 0, 0), (0, 0, 1))
    for i in range(1, CIRPATTERN1_COUNT):
        add(boss_extrude1.rotate(cirpattern1_axis, i * 360 / CIRPATTERN1_COUNT))


solid = part.part
